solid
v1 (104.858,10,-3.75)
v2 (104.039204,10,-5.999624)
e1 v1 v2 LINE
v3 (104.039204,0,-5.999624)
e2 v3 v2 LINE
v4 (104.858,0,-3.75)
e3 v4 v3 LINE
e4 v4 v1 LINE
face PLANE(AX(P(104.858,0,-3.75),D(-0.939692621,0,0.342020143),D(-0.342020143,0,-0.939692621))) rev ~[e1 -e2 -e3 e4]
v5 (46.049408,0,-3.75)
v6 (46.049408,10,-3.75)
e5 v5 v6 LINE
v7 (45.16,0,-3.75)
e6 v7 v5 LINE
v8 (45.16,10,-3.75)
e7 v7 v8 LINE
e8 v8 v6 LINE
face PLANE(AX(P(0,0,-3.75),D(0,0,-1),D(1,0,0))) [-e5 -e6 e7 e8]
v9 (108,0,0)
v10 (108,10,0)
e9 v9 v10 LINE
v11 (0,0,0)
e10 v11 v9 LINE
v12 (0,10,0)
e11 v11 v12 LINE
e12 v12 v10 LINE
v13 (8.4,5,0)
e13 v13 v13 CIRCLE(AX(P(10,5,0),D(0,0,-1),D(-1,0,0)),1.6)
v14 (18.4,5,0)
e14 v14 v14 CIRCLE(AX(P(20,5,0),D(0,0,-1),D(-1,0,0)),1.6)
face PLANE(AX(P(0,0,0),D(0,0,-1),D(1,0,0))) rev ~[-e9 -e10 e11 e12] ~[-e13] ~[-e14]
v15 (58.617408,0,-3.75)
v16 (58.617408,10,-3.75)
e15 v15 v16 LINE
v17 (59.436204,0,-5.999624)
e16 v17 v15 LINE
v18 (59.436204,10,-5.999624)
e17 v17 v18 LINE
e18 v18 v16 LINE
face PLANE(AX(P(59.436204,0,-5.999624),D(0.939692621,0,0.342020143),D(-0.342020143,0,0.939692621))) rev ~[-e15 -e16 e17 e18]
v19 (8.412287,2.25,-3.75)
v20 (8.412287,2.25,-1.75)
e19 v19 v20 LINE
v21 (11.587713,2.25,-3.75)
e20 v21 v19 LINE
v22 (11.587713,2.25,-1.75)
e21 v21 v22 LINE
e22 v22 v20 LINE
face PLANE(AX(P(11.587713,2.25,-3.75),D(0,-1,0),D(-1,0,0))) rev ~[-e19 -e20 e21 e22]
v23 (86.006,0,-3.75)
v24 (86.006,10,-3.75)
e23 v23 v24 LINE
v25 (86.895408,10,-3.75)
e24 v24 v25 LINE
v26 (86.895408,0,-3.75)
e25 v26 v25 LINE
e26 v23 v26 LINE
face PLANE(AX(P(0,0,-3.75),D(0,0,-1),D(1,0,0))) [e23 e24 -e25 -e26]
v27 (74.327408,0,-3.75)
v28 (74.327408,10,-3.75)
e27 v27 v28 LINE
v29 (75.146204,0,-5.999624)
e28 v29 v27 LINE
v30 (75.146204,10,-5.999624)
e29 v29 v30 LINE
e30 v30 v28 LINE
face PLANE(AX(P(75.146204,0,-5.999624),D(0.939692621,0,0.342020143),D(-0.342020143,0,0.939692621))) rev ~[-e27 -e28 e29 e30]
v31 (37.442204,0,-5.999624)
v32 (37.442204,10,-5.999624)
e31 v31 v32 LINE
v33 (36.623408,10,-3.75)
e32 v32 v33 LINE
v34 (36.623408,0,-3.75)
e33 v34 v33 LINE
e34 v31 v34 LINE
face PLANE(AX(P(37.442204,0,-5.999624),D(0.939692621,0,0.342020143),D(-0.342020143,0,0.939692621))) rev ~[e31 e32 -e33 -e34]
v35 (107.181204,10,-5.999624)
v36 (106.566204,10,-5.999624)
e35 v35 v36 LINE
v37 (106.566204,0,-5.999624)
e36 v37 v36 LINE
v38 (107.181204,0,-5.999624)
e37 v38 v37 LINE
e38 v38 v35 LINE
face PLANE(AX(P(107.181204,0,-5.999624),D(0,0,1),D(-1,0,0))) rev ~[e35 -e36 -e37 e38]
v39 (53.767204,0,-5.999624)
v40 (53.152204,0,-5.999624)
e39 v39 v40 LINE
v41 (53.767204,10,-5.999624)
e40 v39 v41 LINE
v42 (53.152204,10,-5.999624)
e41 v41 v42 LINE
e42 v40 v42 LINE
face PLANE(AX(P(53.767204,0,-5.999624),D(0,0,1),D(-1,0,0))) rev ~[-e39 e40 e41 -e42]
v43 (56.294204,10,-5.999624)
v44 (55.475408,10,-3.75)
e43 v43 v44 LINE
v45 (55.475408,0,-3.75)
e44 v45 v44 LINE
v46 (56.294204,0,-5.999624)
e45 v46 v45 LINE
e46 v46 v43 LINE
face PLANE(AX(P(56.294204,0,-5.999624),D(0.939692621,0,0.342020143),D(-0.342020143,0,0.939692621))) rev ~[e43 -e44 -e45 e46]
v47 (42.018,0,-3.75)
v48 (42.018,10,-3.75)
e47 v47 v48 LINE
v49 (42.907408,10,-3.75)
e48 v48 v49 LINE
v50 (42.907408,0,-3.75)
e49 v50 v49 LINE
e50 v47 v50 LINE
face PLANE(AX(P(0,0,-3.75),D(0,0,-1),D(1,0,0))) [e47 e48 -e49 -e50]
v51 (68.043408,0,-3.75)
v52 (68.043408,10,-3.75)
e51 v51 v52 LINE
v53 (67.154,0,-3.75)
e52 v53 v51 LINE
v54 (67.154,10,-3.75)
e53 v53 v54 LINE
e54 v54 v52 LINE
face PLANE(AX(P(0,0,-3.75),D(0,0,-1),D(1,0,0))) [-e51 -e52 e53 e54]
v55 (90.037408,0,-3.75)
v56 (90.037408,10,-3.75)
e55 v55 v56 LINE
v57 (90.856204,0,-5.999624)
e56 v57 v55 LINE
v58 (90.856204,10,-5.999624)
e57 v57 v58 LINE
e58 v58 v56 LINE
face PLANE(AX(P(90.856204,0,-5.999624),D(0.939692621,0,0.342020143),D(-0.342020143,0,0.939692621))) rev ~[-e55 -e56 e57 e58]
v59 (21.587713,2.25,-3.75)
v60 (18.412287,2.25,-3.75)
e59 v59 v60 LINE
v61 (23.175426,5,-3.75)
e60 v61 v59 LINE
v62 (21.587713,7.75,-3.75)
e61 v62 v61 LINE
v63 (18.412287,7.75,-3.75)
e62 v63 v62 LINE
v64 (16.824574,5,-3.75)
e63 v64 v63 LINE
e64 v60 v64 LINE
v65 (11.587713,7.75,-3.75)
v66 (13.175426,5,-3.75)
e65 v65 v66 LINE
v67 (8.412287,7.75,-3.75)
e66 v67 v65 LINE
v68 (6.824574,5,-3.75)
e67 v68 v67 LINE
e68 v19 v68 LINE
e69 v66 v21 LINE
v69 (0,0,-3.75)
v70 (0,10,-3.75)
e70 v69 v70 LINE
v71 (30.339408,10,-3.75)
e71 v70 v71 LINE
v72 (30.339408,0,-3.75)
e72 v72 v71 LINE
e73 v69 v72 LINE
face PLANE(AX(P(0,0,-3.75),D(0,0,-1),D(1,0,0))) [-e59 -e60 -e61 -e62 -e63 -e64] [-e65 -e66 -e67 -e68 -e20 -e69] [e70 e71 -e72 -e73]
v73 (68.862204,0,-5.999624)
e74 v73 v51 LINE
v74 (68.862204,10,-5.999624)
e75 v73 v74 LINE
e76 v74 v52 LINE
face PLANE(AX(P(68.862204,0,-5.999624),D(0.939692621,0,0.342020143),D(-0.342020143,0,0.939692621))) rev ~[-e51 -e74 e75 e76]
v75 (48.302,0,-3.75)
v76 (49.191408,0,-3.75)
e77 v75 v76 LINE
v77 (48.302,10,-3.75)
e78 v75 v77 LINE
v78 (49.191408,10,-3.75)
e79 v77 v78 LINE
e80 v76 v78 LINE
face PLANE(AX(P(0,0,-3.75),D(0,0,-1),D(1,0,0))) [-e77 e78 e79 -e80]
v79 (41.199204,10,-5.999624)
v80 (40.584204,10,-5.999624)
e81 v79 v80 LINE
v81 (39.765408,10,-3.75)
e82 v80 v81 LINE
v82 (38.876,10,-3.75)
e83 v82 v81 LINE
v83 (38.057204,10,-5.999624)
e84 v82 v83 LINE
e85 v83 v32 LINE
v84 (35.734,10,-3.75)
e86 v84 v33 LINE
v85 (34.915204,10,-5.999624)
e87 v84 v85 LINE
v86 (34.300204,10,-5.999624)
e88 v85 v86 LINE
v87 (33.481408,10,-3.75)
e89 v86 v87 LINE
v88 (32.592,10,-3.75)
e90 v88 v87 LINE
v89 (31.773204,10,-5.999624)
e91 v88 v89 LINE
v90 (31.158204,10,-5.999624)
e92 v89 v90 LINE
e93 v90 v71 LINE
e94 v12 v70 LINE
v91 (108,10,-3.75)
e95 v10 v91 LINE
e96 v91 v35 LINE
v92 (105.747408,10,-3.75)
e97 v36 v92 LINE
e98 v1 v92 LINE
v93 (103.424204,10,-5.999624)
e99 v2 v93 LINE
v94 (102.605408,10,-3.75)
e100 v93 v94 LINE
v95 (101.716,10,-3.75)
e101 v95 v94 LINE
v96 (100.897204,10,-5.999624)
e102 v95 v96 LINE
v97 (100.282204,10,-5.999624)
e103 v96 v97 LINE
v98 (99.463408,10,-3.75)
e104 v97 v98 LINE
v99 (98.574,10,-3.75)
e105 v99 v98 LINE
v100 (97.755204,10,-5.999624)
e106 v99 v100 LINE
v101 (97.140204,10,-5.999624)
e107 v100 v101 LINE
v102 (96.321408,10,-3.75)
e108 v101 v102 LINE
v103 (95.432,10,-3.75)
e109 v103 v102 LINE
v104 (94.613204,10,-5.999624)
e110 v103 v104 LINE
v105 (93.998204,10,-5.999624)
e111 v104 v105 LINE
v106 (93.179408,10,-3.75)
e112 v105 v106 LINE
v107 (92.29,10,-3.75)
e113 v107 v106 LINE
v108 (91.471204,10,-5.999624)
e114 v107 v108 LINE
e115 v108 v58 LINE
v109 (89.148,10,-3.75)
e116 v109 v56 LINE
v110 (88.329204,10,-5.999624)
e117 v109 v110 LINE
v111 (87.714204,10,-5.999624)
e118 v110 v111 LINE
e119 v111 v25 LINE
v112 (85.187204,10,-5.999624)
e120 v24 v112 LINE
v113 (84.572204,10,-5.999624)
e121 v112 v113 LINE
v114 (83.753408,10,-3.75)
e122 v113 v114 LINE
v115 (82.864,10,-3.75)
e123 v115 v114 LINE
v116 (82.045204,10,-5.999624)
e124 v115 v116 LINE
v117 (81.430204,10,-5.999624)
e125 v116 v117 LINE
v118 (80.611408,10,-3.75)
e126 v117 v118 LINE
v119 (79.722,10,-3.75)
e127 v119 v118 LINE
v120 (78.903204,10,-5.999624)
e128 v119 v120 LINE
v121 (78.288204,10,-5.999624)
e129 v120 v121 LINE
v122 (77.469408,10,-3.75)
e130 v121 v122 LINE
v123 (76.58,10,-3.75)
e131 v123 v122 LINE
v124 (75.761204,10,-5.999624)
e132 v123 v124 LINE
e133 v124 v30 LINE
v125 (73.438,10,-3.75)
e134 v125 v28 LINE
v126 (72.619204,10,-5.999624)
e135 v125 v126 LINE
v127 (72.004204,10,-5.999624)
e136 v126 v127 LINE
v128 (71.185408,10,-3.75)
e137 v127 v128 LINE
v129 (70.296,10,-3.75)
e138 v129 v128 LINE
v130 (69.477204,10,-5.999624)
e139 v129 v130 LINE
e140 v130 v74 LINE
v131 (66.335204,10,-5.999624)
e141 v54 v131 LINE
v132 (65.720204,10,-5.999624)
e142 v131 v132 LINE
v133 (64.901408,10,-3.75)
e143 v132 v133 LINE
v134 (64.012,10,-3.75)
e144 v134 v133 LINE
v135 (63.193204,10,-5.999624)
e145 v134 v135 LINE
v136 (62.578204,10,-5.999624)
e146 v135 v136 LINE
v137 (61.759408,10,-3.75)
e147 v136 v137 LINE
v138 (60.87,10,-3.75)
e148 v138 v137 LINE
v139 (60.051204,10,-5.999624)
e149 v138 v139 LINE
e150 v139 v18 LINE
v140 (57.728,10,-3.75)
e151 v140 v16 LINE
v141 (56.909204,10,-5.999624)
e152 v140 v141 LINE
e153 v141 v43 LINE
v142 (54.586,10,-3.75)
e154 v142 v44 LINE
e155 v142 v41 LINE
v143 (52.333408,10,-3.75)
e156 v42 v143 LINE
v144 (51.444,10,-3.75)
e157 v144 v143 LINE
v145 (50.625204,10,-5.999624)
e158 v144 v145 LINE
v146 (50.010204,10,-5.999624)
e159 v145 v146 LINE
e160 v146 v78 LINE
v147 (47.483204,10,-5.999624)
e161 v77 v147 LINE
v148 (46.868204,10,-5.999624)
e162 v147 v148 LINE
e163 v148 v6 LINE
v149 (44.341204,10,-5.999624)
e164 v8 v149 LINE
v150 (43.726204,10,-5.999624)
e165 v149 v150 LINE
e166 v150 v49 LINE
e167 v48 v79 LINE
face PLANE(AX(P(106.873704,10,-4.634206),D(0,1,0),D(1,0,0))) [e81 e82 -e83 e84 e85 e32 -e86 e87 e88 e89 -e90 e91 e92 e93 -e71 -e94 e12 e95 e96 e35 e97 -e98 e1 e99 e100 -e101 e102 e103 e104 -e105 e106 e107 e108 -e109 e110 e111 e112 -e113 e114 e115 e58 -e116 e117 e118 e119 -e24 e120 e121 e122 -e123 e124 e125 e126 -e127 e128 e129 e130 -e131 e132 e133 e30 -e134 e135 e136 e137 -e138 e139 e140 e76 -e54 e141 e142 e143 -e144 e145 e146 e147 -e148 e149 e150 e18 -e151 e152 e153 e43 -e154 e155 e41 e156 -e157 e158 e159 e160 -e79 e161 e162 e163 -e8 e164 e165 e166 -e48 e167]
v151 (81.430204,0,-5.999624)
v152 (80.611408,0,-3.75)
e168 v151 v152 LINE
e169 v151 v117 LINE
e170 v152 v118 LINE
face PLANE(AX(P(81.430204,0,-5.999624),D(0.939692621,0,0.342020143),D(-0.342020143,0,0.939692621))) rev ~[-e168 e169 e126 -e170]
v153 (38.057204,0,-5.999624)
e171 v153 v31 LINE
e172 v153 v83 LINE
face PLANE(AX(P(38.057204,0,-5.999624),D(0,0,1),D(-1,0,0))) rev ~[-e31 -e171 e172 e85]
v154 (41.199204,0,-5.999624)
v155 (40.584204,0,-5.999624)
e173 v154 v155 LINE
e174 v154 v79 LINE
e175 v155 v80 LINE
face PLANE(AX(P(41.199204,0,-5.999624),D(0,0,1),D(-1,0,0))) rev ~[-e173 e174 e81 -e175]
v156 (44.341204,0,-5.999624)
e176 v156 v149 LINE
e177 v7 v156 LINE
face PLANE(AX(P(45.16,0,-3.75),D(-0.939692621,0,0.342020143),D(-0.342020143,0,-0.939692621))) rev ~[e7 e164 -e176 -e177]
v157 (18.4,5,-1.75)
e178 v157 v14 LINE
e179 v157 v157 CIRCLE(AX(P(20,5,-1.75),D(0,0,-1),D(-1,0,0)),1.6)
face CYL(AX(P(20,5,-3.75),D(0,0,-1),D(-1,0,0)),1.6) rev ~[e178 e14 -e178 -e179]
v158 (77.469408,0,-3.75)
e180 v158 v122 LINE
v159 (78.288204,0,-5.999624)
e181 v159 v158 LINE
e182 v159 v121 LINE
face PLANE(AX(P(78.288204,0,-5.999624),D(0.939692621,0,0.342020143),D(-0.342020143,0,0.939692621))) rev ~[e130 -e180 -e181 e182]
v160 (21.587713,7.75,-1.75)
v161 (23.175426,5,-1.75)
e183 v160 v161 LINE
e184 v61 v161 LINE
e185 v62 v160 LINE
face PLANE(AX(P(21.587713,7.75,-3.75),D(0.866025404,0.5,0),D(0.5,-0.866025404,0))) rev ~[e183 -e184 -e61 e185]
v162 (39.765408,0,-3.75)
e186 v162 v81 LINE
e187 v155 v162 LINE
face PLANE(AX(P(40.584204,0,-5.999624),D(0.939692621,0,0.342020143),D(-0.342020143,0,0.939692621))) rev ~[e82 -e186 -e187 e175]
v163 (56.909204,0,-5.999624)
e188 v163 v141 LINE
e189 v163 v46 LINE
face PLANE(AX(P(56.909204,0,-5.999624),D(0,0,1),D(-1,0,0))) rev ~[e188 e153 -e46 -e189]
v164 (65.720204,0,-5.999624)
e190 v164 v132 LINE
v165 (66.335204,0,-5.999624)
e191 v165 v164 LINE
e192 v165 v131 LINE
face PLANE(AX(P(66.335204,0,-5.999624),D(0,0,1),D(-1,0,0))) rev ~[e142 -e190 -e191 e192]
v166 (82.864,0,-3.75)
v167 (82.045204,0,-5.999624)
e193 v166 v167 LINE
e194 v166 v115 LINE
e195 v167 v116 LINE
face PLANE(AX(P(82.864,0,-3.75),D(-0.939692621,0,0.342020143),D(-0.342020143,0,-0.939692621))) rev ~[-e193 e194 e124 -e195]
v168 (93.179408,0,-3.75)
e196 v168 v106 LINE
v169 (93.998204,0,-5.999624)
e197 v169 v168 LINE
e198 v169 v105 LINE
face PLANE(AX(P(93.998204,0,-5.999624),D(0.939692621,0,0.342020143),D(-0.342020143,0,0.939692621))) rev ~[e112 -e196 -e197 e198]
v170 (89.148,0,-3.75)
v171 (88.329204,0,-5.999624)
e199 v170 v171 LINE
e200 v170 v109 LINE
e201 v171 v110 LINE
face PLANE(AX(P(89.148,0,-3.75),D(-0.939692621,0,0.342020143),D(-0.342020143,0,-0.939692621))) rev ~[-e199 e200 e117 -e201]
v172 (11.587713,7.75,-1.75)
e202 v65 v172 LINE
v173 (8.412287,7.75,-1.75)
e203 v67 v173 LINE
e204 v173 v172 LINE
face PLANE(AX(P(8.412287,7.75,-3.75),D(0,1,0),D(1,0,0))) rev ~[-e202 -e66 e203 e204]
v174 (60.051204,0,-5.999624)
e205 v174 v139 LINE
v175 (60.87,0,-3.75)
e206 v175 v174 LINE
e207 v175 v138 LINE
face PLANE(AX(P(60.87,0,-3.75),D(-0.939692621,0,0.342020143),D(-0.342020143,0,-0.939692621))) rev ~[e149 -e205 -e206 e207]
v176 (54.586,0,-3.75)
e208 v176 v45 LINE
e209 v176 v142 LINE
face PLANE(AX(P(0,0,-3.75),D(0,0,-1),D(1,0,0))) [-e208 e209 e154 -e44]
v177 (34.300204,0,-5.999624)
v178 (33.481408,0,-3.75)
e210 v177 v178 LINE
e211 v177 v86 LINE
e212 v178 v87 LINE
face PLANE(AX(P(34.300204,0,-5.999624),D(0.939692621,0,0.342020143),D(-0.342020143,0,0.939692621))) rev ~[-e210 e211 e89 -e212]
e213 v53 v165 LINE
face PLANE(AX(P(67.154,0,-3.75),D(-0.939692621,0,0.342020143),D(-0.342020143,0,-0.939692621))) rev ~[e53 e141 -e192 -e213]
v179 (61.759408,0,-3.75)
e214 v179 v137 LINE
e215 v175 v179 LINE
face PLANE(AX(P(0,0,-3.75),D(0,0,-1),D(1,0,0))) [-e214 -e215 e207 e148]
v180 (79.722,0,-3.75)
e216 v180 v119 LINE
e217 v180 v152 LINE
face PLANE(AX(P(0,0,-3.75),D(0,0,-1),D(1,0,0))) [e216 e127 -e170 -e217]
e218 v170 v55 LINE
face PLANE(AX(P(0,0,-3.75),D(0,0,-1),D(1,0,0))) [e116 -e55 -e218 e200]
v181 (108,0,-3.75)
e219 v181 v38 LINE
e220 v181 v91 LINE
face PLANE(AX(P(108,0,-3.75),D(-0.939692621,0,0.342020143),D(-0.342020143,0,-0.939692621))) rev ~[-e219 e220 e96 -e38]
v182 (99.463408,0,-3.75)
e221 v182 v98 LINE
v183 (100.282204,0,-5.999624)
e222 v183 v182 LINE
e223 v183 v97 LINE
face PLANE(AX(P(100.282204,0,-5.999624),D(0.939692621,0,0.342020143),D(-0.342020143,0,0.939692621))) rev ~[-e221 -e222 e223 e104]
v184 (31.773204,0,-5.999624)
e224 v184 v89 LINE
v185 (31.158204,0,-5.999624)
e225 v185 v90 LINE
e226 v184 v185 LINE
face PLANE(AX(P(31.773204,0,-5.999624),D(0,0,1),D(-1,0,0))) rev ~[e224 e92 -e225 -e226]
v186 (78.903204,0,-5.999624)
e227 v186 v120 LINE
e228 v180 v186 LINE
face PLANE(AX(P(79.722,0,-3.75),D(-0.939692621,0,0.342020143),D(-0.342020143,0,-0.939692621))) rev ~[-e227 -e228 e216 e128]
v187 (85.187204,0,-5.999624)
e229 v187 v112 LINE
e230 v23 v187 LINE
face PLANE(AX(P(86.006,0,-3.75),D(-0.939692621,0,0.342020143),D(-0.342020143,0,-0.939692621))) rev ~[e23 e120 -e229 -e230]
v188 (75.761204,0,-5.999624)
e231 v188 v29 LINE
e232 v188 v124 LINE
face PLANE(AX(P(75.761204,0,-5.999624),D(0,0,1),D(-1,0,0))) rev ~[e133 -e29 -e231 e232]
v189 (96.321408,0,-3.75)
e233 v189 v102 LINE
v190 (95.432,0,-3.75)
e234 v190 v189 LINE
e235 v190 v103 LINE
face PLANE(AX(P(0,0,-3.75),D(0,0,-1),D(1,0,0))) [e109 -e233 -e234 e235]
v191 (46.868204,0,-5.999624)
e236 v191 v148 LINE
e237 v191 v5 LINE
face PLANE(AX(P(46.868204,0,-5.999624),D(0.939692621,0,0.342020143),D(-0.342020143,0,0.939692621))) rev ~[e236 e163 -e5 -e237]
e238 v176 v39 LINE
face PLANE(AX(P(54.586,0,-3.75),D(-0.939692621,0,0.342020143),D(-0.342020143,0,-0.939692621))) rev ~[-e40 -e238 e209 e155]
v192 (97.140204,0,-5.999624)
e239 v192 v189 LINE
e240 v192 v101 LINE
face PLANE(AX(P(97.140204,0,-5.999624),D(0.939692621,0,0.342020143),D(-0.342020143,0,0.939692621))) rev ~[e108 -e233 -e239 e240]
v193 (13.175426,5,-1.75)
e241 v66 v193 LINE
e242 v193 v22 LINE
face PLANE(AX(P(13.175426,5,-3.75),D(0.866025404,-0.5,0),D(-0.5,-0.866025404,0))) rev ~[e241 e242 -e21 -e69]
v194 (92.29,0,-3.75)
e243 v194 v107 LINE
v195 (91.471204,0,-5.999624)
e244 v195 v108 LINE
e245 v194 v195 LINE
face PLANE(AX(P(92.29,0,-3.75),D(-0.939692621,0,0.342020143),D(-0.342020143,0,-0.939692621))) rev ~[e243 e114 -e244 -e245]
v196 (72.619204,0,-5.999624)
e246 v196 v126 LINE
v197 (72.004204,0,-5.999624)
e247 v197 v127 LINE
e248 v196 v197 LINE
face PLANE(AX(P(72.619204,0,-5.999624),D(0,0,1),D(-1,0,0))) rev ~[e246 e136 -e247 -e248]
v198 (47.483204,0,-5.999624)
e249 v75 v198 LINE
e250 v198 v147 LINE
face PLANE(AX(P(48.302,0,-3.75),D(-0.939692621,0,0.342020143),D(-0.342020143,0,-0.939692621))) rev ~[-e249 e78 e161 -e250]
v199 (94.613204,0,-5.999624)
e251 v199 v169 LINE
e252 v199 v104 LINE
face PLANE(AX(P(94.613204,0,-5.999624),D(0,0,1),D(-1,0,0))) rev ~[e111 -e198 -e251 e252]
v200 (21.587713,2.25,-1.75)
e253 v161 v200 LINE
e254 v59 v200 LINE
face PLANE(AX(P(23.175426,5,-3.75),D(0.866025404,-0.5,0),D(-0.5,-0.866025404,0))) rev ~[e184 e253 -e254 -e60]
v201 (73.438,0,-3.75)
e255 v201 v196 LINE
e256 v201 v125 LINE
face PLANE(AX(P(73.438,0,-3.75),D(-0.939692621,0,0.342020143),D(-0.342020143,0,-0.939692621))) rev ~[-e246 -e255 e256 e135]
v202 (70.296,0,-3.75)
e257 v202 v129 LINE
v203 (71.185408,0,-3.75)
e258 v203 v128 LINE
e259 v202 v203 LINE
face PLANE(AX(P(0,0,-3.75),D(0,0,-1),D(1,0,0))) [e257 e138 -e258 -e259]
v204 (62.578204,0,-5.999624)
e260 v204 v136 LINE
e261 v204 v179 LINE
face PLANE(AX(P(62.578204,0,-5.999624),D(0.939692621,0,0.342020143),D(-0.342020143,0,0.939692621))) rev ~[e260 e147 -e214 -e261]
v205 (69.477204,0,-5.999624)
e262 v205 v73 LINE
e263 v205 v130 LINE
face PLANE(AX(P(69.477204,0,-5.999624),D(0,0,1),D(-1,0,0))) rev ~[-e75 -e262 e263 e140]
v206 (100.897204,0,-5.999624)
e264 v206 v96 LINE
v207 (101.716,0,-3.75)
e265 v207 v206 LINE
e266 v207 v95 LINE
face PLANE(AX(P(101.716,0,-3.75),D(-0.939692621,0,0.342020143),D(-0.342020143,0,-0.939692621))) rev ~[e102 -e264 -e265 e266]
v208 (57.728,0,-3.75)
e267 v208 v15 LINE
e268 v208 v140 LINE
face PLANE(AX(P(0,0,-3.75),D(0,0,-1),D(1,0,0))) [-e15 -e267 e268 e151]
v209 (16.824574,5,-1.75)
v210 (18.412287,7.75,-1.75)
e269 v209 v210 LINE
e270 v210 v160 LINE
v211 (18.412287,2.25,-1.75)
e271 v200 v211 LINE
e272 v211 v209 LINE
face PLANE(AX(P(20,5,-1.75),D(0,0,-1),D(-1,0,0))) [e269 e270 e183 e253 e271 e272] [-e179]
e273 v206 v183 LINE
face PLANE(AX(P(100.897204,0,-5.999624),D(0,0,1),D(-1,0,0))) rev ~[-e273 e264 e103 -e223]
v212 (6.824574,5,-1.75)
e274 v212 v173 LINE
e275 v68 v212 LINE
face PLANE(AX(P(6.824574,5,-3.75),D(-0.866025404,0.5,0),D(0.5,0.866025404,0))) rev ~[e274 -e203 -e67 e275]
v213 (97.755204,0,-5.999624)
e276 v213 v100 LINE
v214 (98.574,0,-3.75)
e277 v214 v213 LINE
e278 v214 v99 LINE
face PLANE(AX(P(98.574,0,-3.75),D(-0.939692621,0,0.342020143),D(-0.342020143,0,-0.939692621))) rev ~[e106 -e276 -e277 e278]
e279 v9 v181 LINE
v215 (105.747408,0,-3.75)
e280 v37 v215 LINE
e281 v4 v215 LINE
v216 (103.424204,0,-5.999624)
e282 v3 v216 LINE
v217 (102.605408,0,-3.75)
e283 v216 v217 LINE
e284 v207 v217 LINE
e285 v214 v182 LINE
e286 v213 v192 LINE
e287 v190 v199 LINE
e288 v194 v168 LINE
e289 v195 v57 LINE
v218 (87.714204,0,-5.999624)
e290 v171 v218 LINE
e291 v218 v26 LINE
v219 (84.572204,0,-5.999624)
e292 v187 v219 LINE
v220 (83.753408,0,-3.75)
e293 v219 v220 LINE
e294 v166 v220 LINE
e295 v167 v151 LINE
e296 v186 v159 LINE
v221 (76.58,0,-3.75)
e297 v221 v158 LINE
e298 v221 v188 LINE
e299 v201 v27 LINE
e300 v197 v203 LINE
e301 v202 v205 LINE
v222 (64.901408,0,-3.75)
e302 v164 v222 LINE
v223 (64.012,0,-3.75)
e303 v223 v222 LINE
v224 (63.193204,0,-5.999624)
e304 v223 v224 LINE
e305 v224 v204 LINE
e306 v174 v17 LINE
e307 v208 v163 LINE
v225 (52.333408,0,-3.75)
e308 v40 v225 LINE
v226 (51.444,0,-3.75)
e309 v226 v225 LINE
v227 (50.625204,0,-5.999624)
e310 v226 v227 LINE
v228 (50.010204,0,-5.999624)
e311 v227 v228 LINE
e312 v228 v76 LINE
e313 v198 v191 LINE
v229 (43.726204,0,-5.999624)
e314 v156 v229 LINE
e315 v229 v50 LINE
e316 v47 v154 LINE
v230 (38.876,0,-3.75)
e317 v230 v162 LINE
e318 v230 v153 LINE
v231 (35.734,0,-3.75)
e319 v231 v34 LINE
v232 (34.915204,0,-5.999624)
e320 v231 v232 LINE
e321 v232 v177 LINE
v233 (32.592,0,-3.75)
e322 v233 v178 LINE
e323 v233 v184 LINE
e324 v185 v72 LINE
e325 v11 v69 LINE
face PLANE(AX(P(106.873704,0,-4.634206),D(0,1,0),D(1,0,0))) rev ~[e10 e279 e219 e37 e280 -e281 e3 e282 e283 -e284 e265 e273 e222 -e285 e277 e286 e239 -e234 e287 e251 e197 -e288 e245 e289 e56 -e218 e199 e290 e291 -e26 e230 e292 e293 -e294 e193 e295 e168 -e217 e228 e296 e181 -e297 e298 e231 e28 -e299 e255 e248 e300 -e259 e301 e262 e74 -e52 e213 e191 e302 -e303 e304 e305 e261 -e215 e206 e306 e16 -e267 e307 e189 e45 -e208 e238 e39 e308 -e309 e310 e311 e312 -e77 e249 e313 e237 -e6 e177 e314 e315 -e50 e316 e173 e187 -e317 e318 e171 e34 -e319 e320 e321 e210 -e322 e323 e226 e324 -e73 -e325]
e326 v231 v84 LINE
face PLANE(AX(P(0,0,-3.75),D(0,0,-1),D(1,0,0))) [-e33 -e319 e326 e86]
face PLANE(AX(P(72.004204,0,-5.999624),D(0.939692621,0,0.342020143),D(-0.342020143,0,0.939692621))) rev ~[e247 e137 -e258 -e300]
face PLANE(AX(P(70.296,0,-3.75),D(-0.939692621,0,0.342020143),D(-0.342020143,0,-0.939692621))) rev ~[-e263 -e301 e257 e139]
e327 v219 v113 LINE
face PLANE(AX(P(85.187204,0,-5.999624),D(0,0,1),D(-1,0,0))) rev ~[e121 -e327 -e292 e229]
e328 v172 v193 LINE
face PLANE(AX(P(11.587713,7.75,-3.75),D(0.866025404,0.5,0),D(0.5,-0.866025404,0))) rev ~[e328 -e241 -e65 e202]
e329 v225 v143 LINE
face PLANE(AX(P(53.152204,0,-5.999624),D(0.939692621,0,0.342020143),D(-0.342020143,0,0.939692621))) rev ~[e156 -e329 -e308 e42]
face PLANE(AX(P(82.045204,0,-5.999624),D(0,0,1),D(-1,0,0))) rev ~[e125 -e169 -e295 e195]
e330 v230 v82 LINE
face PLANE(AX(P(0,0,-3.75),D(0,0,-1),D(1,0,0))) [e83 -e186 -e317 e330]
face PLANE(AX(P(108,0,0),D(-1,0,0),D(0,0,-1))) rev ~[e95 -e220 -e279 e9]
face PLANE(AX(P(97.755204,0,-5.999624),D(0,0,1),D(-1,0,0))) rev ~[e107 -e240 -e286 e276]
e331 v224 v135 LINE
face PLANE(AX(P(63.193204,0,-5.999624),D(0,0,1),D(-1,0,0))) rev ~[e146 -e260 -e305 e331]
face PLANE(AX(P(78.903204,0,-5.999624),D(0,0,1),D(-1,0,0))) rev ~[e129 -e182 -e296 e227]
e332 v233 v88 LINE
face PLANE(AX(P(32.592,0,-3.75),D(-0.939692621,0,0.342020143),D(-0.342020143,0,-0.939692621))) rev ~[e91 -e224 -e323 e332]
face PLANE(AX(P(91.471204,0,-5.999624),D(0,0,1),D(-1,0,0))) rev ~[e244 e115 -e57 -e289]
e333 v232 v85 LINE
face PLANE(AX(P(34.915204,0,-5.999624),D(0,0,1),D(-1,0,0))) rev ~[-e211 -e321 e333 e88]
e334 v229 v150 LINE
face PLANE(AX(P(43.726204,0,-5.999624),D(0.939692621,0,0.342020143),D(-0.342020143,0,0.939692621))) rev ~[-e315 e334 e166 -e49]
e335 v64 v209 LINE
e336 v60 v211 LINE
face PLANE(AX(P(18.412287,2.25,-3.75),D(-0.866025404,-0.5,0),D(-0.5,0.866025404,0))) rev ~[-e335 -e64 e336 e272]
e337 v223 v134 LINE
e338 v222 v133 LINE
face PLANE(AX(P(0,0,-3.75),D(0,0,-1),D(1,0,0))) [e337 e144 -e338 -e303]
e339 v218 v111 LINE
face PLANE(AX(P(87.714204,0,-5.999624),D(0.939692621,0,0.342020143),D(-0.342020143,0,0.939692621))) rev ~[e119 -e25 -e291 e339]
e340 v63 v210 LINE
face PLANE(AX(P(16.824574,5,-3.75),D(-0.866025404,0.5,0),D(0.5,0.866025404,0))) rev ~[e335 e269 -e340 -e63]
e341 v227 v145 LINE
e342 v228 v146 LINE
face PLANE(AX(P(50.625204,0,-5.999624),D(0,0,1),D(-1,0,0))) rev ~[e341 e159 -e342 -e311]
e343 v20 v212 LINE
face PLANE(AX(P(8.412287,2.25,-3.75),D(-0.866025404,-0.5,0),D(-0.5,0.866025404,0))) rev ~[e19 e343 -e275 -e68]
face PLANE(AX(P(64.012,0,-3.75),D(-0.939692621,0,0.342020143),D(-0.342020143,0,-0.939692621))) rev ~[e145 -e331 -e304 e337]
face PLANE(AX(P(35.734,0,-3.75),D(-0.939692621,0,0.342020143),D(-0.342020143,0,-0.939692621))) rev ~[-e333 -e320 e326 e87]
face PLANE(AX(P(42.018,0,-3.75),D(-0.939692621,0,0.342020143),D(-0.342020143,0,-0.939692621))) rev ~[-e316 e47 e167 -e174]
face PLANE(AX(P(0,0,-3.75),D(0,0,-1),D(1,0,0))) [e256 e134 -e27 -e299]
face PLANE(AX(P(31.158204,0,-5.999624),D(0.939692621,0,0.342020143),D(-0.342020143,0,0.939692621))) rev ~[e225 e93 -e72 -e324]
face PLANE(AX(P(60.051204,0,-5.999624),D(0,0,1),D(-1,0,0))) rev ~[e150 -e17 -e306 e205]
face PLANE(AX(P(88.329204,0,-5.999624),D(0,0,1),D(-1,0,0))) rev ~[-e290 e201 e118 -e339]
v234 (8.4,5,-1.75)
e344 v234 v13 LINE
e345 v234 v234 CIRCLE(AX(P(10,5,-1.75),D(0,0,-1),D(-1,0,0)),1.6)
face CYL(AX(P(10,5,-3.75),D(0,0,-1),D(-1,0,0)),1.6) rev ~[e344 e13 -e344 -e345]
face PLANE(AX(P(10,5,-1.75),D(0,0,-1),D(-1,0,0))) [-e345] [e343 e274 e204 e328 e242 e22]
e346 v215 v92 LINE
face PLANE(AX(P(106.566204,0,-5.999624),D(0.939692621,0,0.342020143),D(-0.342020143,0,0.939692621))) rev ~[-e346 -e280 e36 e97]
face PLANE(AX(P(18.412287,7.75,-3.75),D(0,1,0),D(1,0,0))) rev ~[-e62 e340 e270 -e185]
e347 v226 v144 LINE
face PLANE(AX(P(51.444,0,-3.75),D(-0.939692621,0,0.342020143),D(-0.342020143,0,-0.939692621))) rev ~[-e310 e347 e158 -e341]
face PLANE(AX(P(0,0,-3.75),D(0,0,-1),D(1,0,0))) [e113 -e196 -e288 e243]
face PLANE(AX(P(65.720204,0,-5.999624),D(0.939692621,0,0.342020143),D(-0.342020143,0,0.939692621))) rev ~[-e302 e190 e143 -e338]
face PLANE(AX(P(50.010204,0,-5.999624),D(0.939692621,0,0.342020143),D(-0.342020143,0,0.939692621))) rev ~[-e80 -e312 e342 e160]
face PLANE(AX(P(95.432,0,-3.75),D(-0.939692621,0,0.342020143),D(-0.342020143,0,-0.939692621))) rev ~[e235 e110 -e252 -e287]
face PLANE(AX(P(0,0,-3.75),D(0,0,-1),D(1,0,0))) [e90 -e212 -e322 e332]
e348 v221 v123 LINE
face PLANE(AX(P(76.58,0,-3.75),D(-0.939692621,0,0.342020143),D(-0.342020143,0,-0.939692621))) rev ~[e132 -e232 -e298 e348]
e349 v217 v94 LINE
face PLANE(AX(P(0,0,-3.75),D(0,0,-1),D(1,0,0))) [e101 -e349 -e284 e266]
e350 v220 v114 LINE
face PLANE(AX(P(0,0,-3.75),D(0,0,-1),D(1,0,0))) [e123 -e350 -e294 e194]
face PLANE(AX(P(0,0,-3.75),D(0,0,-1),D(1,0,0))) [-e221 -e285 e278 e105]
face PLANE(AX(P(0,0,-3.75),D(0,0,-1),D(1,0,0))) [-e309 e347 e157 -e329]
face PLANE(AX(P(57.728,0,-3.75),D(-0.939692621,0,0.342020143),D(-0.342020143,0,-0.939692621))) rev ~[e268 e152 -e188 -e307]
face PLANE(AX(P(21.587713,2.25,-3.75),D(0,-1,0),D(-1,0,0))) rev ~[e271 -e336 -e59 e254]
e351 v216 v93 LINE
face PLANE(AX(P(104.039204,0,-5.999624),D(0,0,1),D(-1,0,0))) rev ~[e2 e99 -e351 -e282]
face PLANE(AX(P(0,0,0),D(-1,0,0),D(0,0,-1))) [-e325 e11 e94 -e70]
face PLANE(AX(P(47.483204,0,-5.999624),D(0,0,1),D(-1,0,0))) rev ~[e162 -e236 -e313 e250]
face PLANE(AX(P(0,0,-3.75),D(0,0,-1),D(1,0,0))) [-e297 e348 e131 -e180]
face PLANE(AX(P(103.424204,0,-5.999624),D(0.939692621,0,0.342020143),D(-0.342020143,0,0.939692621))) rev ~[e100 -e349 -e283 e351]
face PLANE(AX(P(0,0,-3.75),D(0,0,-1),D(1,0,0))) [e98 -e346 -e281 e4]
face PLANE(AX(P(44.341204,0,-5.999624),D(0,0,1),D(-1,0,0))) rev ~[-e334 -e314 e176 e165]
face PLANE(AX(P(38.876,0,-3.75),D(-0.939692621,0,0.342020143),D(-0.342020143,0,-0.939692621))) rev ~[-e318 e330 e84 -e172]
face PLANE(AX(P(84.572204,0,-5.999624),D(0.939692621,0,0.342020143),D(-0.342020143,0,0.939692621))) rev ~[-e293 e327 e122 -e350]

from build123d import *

# Parameters (mm, degrees)
EXTRUDE_1_DEPTH        = 10
EXTRUDE_2_DEPTH        = 10
PATTERN_LINEAR_1_COUNT = 25
PATTERN_LINEAR_1_PITCH = 3.142
SKETCH_2_R             = 1.6
CUT_EXTRUDE_1_DEPTH    = 10
CUT_EXTRUDE_2_DEPTH    = 2


with BuildPart() as part:
    # 草图1 → 凸台-拉伸1 (new body)
    with BuildSketch(Plane(origin=(0, 0, 0), x_dir=(1, 0, 0), z_dir=(0, 1, 0))):
        Polygon((0, 3.75), (0, 0), (108, 0), (108, 3.75), (105.747407554, 3.75), align=None)
    extrude(amount=EXTRUDE_1_DEPTH)

    # 草图1<5> → 凸台-拉伸2 (add)
    with BuildSketch(Plane(origin=(0, 0, 0), x_dir=(1, 0, 0), z_dir=(0, 1, 0))):
        Polygon((105.747407554, 3.75), (108, 3.75), (107.181203777, 5.999624134), (106.566203777, 5.999624134), align=None)
    extrude_2 = extrude(amount=EXTRUDE_2_DEPTH)

    # 阵列(线性)1: 凸台-拉伸2 ×25
    with Locations(*[(-i * PATTERN_LINEAR_1_PITCH, 0, 0) for i in range(1, PATTERN_LINEAR_1_COUNT)]):
        add(extrude_2)

    # 草图2 → 切除-拉伸1 (cut)
    with BuildSketch(Plane(origin=(0, 0, -3.75), x_dir=(-1, 0, 0), z_dir=(0, 0, -1))):
        with Locations((-10, 5)):
            Circle(SKETCH_2_R)
        with Locations((-20, 5)):
            Circle(SKETCH_2_R)
    extrude(amount=-CUT_EXTRUDE_1_DEPTH, mode=Mode.SUBTRACT)

    # 草图3 → 切除-拉伸2 (cut)
    with BuildSketch(Plane(origin=(0, 0, -3.75), x_dir=(-1, 0, 0), z_dir=(0, 0, -1))):
        Polygon((-21.58771324, 7.75), (-23.175426481, 5), (-21.58771324, 2.25), (-18.41228676, 2.25), (-16.824573519, 5), (-18.41228676, 7.75), align=None)
        Polygon((-11.58771324, 7.75), (-13.175426481, 5), (-11.58771324, 2.25), (-8.41228676, 2.25), (-6.824573519, 5), (-8.41228676, 7.75), align=None)
    extrude(amount=-CUT_EXTRUDE_2_DEPTH, mode=Mode.SUBTRACT)


solid = part.part
